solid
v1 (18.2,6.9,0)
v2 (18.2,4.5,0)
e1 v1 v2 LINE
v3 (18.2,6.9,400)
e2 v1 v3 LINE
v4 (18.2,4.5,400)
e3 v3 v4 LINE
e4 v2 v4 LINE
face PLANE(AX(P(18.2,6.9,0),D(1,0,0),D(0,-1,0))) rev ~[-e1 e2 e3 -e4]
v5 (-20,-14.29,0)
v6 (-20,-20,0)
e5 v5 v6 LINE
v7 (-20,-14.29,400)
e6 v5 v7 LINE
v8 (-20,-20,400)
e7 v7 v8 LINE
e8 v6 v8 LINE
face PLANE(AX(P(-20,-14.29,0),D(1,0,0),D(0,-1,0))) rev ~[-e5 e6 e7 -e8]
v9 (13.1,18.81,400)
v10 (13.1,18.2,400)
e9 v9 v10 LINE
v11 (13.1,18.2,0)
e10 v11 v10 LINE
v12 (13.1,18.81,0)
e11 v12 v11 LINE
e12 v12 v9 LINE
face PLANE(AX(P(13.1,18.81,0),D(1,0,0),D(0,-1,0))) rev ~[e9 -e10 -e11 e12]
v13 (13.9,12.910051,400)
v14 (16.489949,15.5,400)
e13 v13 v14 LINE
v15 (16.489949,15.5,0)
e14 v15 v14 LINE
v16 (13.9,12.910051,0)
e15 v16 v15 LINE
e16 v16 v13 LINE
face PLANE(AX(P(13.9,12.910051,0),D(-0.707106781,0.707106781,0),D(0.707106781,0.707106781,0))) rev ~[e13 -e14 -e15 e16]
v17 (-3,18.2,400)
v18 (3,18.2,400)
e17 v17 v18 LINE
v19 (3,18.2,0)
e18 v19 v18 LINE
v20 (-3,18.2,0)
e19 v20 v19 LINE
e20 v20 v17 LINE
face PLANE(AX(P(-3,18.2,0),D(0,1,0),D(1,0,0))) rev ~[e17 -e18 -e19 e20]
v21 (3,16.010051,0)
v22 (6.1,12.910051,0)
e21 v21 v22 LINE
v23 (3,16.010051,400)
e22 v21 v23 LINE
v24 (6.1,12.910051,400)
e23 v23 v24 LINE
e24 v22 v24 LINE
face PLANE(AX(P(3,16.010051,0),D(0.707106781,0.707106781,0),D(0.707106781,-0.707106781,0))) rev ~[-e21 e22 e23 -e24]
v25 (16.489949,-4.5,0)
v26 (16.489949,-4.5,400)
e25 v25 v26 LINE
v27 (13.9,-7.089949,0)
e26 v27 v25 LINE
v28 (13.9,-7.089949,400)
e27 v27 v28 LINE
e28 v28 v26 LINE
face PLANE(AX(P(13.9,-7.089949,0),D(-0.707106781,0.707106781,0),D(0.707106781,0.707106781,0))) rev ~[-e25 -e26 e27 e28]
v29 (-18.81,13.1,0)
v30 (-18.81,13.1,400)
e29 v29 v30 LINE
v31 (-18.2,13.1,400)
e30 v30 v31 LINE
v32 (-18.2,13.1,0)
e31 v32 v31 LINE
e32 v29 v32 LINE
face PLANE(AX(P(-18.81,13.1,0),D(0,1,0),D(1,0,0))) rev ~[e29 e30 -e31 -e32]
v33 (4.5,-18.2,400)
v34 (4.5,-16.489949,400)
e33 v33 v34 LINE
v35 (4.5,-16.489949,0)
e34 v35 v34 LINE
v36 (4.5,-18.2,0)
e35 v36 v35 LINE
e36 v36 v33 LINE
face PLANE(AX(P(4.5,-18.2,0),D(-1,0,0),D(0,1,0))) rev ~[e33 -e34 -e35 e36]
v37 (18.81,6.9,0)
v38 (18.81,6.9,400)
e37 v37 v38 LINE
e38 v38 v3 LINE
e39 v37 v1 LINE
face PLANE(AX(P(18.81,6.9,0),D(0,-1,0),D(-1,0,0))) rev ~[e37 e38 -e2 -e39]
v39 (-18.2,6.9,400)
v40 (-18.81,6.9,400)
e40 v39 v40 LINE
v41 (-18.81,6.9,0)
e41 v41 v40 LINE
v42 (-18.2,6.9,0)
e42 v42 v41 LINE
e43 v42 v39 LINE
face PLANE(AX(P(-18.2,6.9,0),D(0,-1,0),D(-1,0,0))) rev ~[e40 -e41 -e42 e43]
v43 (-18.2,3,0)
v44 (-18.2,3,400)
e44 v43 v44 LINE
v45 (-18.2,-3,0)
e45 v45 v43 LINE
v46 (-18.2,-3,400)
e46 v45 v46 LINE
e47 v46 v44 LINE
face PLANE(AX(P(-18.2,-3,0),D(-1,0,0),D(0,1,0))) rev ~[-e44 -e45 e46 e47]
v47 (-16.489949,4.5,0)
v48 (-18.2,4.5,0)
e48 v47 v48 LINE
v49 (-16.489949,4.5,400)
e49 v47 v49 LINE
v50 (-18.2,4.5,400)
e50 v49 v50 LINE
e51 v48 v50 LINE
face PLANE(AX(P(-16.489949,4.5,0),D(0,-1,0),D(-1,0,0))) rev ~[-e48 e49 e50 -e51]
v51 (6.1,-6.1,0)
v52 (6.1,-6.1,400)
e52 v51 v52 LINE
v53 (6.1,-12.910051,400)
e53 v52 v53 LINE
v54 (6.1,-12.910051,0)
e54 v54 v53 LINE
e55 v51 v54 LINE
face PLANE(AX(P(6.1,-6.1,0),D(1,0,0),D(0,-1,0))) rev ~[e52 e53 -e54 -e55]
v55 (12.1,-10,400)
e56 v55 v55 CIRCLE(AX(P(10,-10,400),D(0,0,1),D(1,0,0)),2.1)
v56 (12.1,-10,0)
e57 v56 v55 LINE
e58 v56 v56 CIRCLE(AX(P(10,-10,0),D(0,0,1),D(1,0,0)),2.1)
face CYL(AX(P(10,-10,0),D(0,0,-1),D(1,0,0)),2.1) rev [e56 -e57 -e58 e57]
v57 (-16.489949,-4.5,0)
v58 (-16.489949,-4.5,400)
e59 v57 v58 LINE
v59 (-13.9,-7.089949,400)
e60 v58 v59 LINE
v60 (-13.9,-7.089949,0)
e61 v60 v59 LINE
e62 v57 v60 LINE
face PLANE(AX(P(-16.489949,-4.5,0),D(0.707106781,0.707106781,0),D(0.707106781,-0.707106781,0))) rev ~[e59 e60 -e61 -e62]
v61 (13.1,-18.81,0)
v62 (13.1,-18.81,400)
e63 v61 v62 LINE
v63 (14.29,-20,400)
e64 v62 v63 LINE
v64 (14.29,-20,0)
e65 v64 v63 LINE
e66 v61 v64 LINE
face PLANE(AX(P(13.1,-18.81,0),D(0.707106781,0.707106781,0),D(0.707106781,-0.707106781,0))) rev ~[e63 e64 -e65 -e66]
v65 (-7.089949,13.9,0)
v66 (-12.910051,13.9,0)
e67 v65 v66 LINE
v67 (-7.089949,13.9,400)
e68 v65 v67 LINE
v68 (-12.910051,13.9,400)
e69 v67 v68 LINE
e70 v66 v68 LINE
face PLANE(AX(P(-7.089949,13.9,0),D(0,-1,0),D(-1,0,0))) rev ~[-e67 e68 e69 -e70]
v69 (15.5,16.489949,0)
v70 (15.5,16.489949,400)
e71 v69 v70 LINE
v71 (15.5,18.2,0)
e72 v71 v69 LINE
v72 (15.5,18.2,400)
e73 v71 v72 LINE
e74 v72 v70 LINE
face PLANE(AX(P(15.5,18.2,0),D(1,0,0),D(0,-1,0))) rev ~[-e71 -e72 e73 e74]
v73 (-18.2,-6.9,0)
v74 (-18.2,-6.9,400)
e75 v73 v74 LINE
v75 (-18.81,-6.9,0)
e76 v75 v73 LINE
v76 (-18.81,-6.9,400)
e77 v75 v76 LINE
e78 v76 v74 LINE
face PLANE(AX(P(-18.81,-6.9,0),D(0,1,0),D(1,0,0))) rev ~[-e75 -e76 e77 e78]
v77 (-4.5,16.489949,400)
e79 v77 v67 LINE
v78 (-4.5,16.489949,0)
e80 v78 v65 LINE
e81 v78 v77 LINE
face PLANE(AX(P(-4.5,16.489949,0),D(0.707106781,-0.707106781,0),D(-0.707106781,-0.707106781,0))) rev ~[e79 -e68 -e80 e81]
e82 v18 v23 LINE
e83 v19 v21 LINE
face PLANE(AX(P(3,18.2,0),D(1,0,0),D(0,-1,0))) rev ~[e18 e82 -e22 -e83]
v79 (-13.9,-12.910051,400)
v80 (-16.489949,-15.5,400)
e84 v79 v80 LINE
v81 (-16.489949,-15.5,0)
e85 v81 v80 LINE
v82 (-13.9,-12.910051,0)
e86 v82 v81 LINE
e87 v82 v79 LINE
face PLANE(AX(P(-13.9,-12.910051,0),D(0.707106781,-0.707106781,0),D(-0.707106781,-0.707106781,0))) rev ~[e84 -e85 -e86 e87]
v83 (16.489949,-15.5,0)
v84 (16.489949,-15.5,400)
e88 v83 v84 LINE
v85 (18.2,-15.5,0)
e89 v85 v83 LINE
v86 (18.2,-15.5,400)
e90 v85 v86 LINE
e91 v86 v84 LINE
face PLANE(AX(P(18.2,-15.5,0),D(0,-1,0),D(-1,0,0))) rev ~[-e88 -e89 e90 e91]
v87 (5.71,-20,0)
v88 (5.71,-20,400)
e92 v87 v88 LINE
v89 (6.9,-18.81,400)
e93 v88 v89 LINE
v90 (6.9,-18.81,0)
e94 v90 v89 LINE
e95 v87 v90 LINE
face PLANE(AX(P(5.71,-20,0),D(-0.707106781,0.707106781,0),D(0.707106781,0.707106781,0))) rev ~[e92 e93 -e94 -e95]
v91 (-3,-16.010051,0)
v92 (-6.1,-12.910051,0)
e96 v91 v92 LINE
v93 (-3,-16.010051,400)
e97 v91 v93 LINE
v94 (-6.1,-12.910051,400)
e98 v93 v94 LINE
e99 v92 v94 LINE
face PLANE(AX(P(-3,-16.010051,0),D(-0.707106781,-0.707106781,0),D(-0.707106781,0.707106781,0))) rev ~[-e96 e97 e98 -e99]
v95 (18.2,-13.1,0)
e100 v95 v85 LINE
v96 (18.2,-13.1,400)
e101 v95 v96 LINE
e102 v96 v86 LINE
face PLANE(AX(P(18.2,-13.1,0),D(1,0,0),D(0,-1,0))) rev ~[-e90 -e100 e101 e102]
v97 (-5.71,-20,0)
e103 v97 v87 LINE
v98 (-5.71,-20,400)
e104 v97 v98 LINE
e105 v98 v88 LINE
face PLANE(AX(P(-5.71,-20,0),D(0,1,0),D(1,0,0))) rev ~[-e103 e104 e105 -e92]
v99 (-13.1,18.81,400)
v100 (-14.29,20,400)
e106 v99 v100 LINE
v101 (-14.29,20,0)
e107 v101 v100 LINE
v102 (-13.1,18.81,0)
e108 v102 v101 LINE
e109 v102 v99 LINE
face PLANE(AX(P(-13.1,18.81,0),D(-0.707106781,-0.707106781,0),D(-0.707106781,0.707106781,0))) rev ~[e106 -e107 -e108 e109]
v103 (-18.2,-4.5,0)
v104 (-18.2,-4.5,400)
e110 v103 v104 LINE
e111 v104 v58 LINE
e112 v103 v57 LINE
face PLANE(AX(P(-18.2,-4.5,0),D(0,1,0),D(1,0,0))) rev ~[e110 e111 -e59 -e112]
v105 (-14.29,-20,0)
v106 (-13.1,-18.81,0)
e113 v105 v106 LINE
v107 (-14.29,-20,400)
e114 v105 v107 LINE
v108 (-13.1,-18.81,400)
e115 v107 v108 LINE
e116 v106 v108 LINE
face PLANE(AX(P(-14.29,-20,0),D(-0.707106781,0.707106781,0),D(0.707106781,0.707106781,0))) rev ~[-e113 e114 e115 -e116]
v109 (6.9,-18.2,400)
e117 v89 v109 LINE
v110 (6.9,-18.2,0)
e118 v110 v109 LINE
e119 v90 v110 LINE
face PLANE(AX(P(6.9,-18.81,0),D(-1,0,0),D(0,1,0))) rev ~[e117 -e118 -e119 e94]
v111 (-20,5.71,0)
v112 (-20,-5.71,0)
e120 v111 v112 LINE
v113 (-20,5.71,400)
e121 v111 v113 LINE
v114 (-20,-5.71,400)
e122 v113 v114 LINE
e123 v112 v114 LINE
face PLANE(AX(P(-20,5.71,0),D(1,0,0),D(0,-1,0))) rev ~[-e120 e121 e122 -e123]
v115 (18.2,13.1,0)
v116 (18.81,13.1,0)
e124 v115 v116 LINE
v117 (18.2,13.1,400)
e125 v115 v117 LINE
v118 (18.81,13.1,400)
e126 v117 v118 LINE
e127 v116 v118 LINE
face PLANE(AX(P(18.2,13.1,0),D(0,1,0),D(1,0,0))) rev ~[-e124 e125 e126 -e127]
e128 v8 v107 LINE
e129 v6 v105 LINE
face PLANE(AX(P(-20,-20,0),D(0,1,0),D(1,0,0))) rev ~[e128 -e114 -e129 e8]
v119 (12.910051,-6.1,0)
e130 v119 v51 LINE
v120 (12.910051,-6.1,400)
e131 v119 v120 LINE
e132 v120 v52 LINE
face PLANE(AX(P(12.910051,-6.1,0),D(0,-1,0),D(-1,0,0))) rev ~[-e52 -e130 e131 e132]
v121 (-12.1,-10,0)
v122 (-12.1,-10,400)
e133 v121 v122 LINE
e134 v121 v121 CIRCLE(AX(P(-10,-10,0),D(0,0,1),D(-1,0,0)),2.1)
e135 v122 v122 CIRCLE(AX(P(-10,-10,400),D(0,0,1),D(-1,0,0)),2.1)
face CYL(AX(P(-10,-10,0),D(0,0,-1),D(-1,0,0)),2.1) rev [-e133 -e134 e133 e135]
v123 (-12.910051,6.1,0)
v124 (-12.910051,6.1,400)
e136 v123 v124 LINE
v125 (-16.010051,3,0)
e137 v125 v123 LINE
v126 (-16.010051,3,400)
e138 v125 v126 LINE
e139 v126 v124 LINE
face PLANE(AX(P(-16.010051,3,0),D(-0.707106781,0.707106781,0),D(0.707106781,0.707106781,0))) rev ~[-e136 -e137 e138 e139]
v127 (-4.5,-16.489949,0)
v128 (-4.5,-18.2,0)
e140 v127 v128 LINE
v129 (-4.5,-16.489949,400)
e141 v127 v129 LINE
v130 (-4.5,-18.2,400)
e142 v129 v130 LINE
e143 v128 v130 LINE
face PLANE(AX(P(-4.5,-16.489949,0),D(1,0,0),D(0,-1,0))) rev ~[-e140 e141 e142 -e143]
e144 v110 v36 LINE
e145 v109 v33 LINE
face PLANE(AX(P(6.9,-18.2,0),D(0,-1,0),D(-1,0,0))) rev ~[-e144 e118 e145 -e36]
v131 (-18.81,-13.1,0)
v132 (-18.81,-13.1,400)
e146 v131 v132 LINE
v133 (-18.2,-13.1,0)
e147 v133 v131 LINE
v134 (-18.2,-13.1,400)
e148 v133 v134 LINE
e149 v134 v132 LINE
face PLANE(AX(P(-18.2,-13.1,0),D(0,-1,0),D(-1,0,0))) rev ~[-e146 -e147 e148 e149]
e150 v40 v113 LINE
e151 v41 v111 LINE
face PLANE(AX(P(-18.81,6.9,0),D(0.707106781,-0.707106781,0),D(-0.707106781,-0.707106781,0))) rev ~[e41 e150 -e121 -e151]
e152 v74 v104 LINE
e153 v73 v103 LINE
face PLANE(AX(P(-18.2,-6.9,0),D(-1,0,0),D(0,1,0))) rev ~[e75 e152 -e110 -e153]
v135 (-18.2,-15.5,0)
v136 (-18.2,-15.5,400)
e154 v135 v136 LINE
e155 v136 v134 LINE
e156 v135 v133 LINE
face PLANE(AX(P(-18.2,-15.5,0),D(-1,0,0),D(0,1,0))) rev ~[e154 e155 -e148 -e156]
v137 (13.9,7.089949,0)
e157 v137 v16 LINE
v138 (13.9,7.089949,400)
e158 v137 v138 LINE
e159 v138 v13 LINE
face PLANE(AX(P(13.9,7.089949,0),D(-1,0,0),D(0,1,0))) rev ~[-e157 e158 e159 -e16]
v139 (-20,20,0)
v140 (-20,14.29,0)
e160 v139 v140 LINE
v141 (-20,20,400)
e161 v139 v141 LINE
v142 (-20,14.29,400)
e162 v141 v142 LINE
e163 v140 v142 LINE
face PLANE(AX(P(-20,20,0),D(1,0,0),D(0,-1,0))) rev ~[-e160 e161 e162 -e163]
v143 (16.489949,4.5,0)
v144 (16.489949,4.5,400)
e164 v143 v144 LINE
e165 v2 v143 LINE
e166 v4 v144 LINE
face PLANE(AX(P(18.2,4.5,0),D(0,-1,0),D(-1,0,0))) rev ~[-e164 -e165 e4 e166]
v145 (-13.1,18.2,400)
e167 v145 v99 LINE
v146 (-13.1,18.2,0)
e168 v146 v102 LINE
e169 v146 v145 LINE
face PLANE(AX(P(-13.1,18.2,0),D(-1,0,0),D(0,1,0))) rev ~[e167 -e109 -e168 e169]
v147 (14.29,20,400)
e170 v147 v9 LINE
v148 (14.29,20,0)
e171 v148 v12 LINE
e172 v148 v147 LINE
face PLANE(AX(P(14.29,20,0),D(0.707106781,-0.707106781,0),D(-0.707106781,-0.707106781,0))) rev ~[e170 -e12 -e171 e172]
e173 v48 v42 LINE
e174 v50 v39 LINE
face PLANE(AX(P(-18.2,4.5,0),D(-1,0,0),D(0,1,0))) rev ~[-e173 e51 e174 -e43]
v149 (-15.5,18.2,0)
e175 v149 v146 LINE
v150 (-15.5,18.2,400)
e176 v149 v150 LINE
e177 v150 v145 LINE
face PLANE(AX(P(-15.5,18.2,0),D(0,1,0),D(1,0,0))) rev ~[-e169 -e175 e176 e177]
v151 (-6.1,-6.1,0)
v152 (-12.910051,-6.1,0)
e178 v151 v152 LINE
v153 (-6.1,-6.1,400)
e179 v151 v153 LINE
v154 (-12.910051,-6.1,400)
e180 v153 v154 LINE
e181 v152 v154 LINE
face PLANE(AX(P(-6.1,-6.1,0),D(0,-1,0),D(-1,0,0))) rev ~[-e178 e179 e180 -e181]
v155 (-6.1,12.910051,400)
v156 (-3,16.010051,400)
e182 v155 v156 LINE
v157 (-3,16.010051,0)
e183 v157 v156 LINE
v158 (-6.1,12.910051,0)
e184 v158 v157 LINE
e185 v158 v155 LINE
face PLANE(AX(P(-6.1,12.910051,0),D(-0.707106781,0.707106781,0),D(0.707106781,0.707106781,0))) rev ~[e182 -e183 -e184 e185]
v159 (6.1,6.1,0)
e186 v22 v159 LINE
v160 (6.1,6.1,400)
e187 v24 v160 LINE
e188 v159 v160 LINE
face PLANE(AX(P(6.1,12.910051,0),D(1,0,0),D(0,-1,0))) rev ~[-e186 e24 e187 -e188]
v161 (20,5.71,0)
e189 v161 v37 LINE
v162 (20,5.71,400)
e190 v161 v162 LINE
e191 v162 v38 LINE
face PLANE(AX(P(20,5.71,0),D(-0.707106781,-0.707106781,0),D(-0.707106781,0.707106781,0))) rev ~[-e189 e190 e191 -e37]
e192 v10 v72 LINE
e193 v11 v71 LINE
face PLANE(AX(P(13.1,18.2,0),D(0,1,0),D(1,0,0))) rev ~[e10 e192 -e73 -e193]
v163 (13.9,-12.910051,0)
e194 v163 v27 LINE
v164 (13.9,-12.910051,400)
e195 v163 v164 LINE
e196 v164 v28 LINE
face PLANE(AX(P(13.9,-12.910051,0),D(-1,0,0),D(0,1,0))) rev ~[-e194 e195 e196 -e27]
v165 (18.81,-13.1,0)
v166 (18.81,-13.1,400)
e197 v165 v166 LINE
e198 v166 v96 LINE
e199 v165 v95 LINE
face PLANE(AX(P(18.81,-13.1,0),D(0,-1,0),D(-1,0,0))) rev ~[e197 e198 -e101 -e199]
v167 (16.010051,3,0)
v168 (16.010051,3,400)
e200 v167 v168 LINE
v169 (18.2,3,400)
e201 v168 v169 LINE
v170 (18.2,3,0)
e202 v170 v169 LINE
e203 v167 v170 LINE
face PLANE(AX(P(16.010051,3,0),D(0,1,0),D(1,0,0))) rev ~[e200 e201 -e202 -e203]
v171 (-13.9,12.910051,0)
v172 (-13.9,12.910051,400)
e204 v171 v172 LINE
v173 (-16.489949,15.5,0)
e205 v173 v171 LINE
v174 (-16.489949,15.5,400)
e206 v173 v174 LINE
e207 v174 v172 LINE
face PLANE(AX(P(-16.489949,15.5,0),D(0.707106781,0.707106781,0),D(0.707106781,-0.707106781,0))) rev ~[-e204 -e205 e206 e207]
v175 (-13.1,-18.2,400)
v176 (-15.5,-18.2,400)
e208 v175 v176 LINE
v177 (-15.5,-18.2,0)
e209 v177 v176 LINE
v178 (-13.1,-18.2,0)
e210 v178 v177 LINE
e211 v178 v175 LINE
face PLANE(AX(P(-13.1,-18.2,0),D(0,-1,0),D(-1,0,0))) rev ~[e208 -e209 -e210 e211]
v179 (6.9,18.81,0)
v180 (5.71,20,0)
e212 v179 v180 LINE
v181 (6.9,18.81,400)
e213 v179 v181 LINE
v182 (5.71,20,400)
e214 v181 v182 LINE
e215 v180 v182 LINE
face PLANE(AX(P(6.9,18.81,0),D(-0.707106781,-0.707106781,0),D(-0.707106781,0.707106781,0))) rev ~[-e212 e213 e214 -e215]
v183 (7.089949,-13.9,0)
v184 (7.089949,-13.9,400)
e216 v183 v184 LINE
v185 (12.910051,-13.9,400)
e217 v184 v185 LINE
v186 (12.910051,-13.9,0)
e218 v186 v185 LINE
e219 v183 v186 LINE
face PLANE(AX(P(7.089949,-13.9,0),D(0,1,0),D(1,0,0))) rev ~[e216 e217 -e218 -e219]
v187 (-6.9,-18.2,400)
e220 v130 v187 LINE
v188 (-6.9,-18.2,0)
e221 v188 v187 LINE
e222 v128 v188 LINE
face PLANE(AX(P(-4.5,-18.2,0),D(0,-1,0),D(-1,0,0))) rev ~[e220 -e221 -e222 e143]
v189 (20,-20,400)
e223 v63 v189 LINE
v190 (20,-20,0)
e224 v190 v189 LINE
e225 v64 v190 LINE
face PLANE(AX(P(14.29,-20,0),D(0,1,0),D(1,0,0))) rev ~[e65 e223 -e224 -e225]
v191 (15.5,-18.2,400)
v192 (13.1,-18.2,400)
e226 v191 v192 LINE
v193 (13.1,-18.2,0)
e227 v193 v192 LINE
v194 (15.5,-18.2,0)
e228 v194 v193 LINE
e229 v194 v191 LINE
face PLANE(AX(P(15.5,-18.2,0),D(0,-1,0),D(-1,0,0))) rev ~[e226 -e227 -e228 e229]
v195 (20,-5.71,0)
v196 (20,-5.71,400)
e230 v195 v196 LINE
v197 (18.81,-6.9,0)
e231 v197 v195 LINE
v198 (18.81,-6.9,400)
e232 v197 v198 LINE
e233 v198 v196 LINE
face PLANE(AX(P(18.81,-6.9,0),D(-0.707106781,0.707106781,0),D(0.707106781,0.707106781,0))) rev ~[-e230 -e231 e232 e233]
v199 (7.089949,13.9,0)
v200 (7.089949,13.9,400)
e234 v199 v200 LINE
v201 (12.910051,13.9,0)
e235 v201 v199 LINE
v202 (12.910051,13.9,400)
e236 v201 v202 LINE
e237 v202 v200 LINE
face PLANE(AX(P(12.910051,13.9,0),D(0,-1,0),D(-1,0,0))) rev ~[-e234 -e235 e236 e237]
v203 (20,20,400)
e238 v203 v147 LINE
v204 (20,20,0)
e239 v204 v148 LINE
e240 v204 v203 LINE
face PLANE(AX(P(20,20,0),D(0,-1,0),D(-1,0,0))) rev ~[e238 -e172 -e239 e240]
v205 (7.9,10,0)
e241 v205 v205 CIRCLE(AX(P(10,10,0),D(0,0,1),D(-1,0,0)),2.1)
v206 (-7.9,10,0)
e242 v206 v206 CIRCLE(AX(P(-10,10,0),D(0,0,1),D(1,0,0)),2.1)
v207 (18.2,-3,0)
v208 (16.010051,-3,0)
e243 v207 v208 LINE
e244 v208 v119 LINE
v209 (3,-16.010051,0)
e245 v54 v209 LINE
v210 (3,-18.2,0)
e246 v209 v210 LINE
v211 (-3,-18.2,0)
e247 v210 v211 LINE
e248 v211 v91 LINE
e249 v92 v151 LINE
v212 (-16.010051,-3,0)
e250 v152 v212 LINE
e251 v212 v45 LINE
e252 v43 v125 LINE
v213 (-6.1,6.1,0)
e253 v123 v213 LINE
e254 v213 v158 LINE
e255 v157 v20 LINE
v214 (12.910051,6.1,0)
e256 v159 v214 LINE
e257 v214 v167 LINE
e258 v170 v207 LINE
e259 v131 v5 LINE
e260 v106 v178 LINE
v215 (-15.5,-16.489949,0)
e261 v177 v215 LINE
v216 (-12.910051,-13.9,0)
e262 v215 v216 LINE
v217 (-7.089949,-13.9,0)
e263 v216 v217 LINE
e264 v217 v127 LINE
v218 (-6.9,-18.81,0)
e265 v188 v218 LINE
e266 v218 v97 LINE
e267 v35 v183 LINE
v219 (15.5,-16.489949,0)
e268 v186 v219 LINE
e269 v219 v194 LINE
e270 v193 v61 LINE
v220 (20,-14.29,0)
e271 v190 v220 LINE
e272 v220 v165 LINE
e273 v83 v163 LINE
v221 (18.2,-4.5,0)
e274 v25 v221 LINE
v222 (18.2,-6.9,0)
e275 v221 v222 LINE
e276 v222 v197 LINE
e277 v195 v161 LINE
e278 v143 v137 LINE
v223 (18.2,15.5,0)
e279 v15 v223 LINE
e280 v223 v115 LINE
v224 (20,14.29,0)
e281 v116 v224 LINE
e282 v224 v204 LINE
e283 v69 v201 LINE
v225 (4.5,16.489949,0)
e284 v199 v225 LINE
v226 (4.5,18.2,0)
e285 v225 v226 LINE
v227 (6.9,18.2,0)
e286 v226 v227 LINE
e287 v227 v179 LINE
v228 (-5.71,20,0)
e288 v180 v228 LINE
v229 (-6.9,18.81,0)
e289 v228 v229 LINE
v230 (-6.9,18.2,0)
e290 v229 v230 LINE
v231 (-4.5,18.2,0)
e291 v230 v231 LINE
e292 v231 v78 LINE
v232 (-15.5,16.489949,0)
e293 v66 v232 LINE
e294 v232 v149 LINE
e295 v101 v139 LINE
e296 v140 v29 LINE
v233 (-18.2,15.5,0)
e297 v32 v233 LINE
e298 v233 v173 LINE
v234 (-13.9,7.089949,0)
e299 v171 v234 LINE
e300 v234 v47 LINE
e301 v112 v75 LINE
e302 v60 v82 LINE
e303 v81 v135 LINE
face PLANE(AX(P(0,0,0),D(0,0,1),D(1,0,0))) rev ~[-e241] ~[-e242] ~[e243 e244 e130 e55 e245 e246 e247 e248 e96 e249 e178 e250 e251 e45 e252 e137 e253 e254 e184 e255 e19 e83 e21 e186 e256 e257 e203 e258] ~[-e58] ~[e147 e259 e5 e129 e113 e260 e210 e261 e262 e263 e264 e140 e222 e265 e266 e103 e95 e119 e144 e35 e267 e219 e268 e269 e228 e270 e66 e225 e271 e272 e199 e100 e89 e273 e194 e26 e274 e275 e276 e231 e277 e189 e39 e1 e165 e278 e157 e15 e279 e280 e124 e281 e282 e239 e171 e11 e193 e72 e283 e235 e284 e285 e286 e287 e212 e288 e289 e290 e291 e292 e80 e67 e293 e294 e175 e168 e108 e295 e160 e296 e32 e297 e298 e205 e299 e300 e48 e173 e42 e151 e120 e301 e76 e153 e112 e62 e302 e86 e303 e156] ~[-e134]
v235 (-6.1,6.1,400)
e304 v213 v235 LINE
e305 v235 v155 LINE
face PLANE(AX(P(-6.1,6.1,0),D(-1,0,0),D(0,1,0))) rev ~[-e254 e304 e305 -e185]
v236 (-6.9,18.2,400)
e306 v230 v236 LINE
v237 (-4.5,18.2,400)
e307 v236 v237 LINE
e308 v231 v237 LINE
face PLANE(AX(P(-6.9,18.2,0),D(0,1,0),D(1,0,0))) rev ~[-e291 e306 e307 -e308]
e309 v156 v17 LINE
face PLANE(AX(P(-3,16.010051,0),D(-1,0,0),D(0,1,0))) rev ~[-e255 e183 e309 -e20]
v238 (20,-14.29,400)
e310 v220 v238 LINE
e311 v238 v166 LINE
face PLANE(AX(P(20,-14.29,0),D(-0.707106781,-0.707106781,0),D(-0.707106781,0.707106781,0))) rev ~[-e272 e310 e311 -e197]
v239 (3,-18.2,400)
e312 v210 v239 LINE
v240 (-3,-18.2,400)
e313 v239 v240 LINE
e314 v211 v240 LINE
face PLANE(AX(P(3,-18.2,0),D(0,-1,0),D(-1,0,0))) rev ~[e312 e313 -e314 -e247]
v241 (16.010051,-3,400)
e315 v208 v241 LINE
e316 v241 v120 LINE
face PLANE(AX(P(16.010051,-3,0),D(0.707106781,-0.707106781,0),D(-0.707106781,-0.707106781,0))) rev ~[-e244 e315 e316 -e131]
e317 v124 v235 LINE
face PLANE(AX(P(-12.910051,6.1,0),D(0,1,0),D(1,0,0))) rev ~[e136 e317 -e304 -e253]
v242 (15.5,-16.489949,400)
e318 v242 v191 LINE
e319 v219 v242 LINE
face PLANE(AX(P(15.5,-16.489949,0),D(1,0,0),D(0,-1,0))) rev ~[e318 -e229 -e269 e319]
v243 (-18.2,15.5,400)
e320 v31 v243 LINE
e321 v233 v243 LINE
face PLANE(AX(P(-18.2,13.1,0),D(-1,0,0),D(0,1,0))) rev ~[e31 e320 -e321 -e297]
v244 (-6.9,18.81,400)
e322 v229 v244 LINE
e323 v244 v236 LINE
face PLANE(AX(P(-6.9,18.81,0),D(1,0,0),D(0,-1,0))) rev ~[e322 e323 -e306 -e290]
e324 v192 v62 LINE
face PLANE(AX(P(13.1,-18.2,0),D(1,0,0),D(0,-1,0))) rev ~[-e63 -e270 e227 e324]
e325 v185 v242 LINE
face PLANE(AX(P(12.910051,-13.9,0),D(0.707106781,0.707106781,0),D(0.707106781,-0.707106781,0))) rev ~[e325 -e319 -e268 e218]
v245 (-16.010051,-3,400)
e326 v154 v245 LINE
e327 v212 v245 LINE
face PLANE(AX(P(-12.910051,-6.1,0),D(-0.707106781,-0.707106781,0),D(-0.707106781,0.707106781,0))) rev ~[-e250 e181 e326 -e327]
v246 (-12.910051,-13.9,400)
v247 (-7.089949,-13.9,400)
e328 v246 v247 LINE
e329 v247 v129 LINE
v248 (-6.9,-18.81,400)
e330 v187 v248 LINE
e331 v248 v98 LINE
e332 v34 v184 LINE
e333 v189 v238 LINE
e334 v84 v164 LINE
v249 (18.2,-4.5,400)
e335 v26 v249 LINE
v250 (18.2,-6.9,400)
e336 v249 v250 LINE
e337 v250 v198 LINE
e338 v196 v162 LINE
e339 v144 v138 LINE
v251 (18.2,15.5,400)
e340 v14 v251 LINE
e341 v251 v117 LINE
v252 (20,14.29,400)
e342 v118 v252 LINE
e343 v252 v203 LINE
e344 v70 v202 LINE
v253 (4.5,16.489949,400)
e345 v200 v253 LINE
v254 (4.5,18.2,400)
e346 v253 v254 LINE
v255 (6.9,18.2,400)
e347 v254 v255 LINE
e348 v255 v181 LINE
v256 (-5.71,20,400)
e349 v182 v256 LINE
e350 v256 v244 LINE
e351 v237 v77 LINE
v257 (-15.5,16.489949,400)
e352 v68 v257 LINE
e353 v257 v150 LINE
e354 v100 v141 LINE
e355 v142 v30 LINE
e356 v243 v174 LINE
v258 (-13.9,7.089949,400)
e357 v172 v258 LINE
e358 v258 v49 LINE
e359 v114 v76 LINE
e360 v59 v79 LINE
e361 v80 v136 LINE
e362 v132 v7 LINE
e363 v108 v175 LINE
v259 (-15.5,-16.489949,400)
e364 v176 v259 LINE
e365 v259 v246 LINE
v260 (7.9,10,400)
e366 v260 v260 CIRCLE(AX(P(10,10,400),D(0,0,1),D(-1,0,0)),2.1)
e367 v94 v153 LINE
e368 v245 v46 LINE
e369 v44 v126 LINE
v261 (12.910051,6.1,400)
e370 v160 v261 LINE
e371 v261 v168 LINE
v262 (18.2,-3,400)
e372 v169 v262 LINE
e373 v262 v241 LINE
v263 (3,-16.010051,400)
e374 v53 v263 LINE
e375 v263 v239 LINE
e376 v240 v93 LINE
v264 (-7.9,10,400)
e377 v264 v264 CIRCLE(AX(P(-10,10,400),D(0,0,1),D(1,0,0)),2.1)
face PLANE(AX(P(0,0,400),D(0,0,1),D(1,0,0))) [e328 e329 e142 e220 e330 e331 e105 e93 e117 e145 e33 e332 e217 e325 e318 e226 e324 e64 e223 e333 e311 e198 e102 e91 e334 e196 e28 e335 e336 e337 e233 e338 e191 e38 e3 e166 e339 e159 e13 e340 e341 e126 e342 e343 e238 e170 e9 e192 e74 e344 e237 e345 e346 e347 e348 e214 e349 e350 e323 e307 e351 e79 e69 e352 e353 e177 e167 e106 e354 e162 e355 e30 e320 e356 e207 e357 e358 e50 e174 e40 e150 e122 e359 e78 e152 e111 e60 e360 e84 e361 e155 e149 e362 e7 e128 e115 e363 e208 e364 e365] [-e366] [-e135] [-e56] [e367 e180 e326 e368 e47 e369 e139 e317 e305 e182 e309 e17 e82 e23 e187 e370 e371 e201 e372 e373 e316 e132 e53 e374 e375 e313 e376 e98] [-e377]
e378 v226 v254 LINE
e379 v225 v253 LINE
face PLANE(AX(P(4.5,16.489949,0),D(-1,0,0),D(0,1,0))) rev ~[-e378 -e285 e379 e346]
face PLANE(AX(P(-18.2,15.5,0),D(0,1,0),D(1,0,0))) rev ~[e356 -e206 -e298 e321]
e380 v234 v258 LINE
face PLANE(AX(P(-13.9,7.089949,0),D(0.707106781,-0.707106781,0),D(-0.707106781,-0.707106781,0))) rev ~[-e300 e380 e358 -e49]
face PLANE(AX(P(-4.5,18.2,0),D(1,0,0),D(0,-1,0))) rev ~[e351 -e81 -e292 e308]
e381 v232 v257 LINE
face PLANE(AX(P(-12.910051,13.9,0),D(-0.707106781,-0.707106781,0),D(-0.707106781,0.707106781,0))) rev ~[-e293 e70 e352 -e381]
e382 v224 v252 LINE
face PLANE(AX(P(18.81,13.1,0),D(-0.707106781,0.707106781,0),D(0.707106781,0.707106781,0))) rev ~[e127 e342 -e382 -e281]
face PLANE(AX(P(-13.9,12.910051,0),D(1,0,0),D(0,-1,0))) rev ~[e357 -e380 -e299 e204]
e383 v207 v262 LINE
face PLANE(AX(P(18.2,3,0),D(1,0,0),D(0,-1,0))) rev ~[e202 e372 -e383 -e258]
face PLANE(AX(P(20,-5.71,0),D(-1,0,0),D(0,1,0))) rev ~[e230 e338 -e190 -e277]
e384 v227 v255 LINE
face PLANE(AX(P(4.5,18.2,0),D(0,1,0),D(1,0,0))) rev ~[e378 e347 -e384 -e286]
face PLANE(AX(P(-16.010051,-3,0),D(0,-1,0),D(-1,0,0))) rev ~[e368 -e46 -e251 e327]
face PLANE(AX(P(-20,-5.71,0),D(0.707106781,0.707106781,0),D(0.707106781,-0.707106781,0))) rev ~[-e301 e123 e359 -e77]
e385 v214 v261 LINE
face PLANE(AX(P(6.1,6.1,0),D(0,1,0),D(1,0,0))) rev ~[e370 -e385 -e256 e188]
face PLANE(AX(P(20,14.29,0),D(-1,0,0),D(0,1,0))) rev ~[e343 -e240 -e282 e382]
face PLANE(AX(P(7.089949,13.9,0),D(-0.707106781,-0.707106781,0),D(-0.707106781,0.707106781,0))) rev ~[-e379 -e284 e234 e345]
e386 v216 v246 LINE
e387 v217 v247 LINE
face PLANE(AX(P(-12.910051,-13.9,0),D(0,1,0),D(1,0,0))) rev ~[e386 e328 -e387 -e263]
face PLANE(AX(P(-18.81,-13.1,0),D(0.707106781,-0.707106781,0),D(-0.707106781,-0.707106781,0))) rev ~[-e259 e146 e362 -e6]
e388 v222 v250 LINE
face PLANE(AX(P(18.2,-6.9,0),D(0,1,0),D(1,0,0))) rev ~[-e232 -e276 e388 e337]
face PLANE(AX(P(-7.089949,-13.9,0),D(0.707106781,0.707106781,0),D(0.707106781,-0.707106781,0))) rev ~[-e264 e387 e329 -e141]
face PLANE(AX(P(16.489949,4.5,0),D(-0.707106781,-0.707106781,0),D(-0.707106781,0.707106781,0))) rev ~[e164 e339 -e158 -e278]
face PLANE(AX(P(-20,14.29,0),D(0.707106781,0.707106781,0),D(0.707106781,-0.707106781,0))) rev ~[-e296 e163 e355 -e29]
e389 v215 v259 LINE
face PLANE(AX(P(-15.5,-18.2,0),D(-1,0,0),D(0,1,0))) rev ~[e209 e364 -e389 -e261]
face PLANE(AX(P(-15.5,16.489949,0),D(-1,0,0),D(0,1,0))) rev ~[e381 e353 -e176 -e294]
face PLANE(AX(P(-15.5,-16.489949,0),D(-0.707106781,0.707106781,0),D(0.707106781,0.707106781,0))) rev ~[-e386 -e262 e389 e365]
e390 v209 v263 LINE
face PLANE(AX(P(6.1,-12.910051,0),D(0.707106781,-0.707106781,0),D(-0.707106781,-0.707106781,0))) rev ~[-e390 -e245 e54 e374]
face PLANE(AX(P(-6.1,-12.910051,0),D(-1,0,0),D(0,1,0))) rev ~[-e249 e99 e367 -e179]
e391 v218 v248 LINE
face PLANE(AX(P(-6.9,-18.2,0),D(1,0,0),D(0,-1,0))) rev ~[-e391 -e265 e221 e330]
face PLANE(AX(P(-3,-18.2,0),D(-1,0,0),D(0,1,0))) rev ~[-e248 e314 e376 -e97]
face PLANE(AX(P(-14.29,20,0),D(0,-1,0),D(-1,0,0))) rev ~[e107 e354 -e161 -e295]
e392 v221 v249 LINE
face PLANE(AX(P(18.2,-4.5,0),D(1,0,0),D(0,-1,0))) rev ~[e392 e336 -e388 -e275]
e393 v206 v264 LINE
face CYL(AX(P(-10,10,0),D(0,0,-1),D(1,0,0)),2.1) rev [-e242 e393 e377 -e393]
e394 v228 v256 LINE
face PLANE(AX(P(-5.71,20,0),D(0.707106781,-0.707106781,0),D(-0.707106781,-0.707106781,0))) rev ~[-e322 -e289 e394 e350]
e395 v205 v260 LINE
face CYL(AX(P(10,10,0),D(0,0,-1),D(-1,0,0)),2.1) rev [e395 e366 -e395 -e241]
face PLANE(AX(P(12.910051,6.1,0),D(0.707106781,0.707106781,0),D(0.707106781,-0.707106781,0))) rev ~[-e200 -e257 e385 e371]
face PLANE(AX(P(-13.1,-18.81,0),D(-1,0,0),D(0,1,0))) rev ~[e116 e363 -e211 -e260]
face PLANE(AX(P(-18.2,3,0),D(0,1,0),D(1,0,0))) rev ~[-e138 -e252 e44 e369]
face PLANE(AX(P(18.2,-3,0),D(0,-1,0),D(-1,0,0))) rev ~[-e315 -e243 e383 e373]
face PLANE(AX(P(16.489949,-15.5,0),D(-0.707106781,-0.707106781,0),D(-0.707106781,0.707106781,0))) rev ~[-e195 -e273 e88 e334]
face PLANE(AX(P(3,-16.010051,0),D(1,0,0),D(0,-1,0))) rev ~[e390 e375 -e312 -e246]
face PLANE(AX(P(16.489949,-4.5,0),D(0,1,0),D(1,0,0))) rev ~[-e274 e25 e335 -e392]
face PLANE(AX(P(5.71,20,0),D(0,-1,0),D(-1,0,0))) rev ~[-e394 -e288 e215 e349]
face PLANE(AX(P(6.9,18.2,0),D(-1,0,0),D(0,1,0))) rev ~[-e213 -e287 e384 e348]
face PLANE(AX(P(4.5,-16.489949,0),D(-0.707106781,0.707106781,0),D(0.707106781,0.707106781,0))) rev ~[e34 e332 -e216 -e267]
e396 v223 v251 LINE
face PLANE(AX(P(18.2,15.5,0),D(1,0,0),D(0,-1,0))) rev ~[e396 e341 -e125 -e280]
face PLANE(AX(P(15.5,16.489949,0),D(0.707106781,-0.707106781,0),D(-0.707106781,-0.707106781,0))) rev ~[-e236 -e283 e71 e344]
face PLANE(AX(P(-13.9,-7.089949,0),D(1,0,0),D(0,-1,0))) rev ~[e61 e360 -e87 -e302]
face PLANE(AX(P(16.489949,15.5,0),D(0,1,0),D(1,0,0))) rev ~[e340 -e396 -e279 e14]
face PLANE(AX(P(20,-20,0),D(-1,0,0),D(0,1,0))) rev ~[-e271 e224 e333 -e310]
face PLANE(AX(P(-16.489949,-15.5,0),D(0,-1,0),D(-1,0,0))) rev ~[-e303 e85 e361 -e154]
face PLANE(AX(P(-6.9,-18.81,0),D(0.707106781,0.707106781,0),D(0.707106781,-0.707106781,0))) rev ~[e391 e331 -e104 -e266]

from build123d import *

# Parameters (mm, degrees)
SKETCH_1_R      = 2.1
EXTRUDE_1_DEPTH = 400


with BuildPart() as part:
    # 草图1 → 凸台-拉伸1 (new body)
    with BuildSketch(Plane.XY):
        Polygon((5.71, 20), (-5.71, 20), (-6.9, 18.81), (-6.9, 18.2), (-4.5, 18.2), (-4.5, 16.489949494), (-7.089949494, 13.9), (-12.910050506, 13.9), (-15.5, 16.489949494), (-15.5, 18.2), (-13.1, 18.2), (-13.1, 18.81), (-14.29, 20), (-20, 20), (-20, 14.29), (-18.81, 13.1), (-18.2, 13.1), (-18.2, 15.5), (-16.489949494, 15.5), (-13.9, 12.910050506), (-13.9, 7.089949494), (-16.489949494, 4.5), (-18.2, 4.5), (-18.2, 6.9), (-18.81, 6.9), (-20, 5.71), (-20, -5.71), (-18.81, -6.9), (-18.2, -6.9), (-18.2, -4.5), (-16.489949494, -4.5), (-13.9, -7.089949494), (-13.9, -12.910050506), (-16.489949494, -15.5), (-18.2, -15.5), (-18.2, -13.1), (-18.81, -13.1), (-20, -14.29), (-20, -20), (-14.29, -20), (-13.1, -18.81), (-13.1, -18.2), (-15.5, -18.2), (-15.5, -16.489949494), (-12.910050506, -13.9), (-7.089949494, -13.9), (-4.5, -16.489949494), (-4.5, -18.2), (-6.9, -18.2), (-6.9, -18.81), (-5.71, -20), (5.71, -20), (6.9, -18.81), (6.9, -18.2), (4.5, -18.2), (4.5, -16.489949494), (7.089949494, -13.9), (12.910050506, -13.9), (15.5, -16.489949494), (15.5, -18.2), (13.1, -18.2), (13.1, -18.81), (14.29, -20), (20, -20), (20, -14.29), (18.81, -13.1), (18.2, -13.1), (18.2, -15.5), (16.489949494, -15.5), (13.9, -12.910050506), (13.9, -7.089949494), (16.489949494, -4.5), (18.2, -4.5), (18.2, -6.9), (18.81, -6.9), (20, -5.71), (20, 5.71), (18.81, 6.9), (18.2, 6.9), (18.2, 4.5), (16.489949494, 4.5), (13.9, 7.089949494), (13.9, 12.910050506), (16.489949494, 15.5), (18.2, 15.5), (18.2, 13.1), (18.81, 13.1), (20, 14.29), (20, 20), (14.29, 20), (13.1, 18.81), (13.1, 18.2), (15.5, 18.2), (15.5, 16.489949494), (12.910050506, 13.9), (7.089949494, 13.9), (4.5, 16.489949494), (4.5, 18.2), (6.9, 18.2), (6.9, 18.81), align=None)
        with Locations((-10, 10)):
            Circle(SKETCH_1_R, mode=Mode.SUBTRACT)
        with Locations(Location((-10, -10, 0), (0, 0, 180))):
            Circle(SKETCH_1_R, mode=Mode.SUBTRACT)
        with Locations((10, -10)):
            Circle(SKETCH_1_R, mode=Mode.SUBTRACT)
        with Locations(Location((10, 10, 0), (0, 0, 180))):
            Circle(SKETCH_1_R, mode=Mode.SUBTRACT)
        Polygon((-6.1, 6.1), (-6.1, 12.910050506), (-3, 16.010050506), (-3, 18.2), (3, 18.2), (3, 16.010050506), (6.1, 12.910050506), (6.1, 6.1), (12.910050506, 6.1), (16.010050506, 3), (18.2, 3), (18.2, -3), (16.010050506, -3), (12.910050506, -6.1), (6.1, -6.1), (6.1, -12.910050506), (3, -16.010050506), (3, -18.2), (-3, -18.2), (-3, -16.010050506), (-6.1, -12.910050506), (-6.1, -6.1), (-12.910050506, -6.1), (-16.010050506, -3), (-18.2, -3), (-18.2, 3), (-16.010050506, 3), (-12.910050506, 6.1), align=None, mode=Mode.SUBTRACT)
    extrude(amount=EXTRUDE_1_DEPTH)


solid = part.part
